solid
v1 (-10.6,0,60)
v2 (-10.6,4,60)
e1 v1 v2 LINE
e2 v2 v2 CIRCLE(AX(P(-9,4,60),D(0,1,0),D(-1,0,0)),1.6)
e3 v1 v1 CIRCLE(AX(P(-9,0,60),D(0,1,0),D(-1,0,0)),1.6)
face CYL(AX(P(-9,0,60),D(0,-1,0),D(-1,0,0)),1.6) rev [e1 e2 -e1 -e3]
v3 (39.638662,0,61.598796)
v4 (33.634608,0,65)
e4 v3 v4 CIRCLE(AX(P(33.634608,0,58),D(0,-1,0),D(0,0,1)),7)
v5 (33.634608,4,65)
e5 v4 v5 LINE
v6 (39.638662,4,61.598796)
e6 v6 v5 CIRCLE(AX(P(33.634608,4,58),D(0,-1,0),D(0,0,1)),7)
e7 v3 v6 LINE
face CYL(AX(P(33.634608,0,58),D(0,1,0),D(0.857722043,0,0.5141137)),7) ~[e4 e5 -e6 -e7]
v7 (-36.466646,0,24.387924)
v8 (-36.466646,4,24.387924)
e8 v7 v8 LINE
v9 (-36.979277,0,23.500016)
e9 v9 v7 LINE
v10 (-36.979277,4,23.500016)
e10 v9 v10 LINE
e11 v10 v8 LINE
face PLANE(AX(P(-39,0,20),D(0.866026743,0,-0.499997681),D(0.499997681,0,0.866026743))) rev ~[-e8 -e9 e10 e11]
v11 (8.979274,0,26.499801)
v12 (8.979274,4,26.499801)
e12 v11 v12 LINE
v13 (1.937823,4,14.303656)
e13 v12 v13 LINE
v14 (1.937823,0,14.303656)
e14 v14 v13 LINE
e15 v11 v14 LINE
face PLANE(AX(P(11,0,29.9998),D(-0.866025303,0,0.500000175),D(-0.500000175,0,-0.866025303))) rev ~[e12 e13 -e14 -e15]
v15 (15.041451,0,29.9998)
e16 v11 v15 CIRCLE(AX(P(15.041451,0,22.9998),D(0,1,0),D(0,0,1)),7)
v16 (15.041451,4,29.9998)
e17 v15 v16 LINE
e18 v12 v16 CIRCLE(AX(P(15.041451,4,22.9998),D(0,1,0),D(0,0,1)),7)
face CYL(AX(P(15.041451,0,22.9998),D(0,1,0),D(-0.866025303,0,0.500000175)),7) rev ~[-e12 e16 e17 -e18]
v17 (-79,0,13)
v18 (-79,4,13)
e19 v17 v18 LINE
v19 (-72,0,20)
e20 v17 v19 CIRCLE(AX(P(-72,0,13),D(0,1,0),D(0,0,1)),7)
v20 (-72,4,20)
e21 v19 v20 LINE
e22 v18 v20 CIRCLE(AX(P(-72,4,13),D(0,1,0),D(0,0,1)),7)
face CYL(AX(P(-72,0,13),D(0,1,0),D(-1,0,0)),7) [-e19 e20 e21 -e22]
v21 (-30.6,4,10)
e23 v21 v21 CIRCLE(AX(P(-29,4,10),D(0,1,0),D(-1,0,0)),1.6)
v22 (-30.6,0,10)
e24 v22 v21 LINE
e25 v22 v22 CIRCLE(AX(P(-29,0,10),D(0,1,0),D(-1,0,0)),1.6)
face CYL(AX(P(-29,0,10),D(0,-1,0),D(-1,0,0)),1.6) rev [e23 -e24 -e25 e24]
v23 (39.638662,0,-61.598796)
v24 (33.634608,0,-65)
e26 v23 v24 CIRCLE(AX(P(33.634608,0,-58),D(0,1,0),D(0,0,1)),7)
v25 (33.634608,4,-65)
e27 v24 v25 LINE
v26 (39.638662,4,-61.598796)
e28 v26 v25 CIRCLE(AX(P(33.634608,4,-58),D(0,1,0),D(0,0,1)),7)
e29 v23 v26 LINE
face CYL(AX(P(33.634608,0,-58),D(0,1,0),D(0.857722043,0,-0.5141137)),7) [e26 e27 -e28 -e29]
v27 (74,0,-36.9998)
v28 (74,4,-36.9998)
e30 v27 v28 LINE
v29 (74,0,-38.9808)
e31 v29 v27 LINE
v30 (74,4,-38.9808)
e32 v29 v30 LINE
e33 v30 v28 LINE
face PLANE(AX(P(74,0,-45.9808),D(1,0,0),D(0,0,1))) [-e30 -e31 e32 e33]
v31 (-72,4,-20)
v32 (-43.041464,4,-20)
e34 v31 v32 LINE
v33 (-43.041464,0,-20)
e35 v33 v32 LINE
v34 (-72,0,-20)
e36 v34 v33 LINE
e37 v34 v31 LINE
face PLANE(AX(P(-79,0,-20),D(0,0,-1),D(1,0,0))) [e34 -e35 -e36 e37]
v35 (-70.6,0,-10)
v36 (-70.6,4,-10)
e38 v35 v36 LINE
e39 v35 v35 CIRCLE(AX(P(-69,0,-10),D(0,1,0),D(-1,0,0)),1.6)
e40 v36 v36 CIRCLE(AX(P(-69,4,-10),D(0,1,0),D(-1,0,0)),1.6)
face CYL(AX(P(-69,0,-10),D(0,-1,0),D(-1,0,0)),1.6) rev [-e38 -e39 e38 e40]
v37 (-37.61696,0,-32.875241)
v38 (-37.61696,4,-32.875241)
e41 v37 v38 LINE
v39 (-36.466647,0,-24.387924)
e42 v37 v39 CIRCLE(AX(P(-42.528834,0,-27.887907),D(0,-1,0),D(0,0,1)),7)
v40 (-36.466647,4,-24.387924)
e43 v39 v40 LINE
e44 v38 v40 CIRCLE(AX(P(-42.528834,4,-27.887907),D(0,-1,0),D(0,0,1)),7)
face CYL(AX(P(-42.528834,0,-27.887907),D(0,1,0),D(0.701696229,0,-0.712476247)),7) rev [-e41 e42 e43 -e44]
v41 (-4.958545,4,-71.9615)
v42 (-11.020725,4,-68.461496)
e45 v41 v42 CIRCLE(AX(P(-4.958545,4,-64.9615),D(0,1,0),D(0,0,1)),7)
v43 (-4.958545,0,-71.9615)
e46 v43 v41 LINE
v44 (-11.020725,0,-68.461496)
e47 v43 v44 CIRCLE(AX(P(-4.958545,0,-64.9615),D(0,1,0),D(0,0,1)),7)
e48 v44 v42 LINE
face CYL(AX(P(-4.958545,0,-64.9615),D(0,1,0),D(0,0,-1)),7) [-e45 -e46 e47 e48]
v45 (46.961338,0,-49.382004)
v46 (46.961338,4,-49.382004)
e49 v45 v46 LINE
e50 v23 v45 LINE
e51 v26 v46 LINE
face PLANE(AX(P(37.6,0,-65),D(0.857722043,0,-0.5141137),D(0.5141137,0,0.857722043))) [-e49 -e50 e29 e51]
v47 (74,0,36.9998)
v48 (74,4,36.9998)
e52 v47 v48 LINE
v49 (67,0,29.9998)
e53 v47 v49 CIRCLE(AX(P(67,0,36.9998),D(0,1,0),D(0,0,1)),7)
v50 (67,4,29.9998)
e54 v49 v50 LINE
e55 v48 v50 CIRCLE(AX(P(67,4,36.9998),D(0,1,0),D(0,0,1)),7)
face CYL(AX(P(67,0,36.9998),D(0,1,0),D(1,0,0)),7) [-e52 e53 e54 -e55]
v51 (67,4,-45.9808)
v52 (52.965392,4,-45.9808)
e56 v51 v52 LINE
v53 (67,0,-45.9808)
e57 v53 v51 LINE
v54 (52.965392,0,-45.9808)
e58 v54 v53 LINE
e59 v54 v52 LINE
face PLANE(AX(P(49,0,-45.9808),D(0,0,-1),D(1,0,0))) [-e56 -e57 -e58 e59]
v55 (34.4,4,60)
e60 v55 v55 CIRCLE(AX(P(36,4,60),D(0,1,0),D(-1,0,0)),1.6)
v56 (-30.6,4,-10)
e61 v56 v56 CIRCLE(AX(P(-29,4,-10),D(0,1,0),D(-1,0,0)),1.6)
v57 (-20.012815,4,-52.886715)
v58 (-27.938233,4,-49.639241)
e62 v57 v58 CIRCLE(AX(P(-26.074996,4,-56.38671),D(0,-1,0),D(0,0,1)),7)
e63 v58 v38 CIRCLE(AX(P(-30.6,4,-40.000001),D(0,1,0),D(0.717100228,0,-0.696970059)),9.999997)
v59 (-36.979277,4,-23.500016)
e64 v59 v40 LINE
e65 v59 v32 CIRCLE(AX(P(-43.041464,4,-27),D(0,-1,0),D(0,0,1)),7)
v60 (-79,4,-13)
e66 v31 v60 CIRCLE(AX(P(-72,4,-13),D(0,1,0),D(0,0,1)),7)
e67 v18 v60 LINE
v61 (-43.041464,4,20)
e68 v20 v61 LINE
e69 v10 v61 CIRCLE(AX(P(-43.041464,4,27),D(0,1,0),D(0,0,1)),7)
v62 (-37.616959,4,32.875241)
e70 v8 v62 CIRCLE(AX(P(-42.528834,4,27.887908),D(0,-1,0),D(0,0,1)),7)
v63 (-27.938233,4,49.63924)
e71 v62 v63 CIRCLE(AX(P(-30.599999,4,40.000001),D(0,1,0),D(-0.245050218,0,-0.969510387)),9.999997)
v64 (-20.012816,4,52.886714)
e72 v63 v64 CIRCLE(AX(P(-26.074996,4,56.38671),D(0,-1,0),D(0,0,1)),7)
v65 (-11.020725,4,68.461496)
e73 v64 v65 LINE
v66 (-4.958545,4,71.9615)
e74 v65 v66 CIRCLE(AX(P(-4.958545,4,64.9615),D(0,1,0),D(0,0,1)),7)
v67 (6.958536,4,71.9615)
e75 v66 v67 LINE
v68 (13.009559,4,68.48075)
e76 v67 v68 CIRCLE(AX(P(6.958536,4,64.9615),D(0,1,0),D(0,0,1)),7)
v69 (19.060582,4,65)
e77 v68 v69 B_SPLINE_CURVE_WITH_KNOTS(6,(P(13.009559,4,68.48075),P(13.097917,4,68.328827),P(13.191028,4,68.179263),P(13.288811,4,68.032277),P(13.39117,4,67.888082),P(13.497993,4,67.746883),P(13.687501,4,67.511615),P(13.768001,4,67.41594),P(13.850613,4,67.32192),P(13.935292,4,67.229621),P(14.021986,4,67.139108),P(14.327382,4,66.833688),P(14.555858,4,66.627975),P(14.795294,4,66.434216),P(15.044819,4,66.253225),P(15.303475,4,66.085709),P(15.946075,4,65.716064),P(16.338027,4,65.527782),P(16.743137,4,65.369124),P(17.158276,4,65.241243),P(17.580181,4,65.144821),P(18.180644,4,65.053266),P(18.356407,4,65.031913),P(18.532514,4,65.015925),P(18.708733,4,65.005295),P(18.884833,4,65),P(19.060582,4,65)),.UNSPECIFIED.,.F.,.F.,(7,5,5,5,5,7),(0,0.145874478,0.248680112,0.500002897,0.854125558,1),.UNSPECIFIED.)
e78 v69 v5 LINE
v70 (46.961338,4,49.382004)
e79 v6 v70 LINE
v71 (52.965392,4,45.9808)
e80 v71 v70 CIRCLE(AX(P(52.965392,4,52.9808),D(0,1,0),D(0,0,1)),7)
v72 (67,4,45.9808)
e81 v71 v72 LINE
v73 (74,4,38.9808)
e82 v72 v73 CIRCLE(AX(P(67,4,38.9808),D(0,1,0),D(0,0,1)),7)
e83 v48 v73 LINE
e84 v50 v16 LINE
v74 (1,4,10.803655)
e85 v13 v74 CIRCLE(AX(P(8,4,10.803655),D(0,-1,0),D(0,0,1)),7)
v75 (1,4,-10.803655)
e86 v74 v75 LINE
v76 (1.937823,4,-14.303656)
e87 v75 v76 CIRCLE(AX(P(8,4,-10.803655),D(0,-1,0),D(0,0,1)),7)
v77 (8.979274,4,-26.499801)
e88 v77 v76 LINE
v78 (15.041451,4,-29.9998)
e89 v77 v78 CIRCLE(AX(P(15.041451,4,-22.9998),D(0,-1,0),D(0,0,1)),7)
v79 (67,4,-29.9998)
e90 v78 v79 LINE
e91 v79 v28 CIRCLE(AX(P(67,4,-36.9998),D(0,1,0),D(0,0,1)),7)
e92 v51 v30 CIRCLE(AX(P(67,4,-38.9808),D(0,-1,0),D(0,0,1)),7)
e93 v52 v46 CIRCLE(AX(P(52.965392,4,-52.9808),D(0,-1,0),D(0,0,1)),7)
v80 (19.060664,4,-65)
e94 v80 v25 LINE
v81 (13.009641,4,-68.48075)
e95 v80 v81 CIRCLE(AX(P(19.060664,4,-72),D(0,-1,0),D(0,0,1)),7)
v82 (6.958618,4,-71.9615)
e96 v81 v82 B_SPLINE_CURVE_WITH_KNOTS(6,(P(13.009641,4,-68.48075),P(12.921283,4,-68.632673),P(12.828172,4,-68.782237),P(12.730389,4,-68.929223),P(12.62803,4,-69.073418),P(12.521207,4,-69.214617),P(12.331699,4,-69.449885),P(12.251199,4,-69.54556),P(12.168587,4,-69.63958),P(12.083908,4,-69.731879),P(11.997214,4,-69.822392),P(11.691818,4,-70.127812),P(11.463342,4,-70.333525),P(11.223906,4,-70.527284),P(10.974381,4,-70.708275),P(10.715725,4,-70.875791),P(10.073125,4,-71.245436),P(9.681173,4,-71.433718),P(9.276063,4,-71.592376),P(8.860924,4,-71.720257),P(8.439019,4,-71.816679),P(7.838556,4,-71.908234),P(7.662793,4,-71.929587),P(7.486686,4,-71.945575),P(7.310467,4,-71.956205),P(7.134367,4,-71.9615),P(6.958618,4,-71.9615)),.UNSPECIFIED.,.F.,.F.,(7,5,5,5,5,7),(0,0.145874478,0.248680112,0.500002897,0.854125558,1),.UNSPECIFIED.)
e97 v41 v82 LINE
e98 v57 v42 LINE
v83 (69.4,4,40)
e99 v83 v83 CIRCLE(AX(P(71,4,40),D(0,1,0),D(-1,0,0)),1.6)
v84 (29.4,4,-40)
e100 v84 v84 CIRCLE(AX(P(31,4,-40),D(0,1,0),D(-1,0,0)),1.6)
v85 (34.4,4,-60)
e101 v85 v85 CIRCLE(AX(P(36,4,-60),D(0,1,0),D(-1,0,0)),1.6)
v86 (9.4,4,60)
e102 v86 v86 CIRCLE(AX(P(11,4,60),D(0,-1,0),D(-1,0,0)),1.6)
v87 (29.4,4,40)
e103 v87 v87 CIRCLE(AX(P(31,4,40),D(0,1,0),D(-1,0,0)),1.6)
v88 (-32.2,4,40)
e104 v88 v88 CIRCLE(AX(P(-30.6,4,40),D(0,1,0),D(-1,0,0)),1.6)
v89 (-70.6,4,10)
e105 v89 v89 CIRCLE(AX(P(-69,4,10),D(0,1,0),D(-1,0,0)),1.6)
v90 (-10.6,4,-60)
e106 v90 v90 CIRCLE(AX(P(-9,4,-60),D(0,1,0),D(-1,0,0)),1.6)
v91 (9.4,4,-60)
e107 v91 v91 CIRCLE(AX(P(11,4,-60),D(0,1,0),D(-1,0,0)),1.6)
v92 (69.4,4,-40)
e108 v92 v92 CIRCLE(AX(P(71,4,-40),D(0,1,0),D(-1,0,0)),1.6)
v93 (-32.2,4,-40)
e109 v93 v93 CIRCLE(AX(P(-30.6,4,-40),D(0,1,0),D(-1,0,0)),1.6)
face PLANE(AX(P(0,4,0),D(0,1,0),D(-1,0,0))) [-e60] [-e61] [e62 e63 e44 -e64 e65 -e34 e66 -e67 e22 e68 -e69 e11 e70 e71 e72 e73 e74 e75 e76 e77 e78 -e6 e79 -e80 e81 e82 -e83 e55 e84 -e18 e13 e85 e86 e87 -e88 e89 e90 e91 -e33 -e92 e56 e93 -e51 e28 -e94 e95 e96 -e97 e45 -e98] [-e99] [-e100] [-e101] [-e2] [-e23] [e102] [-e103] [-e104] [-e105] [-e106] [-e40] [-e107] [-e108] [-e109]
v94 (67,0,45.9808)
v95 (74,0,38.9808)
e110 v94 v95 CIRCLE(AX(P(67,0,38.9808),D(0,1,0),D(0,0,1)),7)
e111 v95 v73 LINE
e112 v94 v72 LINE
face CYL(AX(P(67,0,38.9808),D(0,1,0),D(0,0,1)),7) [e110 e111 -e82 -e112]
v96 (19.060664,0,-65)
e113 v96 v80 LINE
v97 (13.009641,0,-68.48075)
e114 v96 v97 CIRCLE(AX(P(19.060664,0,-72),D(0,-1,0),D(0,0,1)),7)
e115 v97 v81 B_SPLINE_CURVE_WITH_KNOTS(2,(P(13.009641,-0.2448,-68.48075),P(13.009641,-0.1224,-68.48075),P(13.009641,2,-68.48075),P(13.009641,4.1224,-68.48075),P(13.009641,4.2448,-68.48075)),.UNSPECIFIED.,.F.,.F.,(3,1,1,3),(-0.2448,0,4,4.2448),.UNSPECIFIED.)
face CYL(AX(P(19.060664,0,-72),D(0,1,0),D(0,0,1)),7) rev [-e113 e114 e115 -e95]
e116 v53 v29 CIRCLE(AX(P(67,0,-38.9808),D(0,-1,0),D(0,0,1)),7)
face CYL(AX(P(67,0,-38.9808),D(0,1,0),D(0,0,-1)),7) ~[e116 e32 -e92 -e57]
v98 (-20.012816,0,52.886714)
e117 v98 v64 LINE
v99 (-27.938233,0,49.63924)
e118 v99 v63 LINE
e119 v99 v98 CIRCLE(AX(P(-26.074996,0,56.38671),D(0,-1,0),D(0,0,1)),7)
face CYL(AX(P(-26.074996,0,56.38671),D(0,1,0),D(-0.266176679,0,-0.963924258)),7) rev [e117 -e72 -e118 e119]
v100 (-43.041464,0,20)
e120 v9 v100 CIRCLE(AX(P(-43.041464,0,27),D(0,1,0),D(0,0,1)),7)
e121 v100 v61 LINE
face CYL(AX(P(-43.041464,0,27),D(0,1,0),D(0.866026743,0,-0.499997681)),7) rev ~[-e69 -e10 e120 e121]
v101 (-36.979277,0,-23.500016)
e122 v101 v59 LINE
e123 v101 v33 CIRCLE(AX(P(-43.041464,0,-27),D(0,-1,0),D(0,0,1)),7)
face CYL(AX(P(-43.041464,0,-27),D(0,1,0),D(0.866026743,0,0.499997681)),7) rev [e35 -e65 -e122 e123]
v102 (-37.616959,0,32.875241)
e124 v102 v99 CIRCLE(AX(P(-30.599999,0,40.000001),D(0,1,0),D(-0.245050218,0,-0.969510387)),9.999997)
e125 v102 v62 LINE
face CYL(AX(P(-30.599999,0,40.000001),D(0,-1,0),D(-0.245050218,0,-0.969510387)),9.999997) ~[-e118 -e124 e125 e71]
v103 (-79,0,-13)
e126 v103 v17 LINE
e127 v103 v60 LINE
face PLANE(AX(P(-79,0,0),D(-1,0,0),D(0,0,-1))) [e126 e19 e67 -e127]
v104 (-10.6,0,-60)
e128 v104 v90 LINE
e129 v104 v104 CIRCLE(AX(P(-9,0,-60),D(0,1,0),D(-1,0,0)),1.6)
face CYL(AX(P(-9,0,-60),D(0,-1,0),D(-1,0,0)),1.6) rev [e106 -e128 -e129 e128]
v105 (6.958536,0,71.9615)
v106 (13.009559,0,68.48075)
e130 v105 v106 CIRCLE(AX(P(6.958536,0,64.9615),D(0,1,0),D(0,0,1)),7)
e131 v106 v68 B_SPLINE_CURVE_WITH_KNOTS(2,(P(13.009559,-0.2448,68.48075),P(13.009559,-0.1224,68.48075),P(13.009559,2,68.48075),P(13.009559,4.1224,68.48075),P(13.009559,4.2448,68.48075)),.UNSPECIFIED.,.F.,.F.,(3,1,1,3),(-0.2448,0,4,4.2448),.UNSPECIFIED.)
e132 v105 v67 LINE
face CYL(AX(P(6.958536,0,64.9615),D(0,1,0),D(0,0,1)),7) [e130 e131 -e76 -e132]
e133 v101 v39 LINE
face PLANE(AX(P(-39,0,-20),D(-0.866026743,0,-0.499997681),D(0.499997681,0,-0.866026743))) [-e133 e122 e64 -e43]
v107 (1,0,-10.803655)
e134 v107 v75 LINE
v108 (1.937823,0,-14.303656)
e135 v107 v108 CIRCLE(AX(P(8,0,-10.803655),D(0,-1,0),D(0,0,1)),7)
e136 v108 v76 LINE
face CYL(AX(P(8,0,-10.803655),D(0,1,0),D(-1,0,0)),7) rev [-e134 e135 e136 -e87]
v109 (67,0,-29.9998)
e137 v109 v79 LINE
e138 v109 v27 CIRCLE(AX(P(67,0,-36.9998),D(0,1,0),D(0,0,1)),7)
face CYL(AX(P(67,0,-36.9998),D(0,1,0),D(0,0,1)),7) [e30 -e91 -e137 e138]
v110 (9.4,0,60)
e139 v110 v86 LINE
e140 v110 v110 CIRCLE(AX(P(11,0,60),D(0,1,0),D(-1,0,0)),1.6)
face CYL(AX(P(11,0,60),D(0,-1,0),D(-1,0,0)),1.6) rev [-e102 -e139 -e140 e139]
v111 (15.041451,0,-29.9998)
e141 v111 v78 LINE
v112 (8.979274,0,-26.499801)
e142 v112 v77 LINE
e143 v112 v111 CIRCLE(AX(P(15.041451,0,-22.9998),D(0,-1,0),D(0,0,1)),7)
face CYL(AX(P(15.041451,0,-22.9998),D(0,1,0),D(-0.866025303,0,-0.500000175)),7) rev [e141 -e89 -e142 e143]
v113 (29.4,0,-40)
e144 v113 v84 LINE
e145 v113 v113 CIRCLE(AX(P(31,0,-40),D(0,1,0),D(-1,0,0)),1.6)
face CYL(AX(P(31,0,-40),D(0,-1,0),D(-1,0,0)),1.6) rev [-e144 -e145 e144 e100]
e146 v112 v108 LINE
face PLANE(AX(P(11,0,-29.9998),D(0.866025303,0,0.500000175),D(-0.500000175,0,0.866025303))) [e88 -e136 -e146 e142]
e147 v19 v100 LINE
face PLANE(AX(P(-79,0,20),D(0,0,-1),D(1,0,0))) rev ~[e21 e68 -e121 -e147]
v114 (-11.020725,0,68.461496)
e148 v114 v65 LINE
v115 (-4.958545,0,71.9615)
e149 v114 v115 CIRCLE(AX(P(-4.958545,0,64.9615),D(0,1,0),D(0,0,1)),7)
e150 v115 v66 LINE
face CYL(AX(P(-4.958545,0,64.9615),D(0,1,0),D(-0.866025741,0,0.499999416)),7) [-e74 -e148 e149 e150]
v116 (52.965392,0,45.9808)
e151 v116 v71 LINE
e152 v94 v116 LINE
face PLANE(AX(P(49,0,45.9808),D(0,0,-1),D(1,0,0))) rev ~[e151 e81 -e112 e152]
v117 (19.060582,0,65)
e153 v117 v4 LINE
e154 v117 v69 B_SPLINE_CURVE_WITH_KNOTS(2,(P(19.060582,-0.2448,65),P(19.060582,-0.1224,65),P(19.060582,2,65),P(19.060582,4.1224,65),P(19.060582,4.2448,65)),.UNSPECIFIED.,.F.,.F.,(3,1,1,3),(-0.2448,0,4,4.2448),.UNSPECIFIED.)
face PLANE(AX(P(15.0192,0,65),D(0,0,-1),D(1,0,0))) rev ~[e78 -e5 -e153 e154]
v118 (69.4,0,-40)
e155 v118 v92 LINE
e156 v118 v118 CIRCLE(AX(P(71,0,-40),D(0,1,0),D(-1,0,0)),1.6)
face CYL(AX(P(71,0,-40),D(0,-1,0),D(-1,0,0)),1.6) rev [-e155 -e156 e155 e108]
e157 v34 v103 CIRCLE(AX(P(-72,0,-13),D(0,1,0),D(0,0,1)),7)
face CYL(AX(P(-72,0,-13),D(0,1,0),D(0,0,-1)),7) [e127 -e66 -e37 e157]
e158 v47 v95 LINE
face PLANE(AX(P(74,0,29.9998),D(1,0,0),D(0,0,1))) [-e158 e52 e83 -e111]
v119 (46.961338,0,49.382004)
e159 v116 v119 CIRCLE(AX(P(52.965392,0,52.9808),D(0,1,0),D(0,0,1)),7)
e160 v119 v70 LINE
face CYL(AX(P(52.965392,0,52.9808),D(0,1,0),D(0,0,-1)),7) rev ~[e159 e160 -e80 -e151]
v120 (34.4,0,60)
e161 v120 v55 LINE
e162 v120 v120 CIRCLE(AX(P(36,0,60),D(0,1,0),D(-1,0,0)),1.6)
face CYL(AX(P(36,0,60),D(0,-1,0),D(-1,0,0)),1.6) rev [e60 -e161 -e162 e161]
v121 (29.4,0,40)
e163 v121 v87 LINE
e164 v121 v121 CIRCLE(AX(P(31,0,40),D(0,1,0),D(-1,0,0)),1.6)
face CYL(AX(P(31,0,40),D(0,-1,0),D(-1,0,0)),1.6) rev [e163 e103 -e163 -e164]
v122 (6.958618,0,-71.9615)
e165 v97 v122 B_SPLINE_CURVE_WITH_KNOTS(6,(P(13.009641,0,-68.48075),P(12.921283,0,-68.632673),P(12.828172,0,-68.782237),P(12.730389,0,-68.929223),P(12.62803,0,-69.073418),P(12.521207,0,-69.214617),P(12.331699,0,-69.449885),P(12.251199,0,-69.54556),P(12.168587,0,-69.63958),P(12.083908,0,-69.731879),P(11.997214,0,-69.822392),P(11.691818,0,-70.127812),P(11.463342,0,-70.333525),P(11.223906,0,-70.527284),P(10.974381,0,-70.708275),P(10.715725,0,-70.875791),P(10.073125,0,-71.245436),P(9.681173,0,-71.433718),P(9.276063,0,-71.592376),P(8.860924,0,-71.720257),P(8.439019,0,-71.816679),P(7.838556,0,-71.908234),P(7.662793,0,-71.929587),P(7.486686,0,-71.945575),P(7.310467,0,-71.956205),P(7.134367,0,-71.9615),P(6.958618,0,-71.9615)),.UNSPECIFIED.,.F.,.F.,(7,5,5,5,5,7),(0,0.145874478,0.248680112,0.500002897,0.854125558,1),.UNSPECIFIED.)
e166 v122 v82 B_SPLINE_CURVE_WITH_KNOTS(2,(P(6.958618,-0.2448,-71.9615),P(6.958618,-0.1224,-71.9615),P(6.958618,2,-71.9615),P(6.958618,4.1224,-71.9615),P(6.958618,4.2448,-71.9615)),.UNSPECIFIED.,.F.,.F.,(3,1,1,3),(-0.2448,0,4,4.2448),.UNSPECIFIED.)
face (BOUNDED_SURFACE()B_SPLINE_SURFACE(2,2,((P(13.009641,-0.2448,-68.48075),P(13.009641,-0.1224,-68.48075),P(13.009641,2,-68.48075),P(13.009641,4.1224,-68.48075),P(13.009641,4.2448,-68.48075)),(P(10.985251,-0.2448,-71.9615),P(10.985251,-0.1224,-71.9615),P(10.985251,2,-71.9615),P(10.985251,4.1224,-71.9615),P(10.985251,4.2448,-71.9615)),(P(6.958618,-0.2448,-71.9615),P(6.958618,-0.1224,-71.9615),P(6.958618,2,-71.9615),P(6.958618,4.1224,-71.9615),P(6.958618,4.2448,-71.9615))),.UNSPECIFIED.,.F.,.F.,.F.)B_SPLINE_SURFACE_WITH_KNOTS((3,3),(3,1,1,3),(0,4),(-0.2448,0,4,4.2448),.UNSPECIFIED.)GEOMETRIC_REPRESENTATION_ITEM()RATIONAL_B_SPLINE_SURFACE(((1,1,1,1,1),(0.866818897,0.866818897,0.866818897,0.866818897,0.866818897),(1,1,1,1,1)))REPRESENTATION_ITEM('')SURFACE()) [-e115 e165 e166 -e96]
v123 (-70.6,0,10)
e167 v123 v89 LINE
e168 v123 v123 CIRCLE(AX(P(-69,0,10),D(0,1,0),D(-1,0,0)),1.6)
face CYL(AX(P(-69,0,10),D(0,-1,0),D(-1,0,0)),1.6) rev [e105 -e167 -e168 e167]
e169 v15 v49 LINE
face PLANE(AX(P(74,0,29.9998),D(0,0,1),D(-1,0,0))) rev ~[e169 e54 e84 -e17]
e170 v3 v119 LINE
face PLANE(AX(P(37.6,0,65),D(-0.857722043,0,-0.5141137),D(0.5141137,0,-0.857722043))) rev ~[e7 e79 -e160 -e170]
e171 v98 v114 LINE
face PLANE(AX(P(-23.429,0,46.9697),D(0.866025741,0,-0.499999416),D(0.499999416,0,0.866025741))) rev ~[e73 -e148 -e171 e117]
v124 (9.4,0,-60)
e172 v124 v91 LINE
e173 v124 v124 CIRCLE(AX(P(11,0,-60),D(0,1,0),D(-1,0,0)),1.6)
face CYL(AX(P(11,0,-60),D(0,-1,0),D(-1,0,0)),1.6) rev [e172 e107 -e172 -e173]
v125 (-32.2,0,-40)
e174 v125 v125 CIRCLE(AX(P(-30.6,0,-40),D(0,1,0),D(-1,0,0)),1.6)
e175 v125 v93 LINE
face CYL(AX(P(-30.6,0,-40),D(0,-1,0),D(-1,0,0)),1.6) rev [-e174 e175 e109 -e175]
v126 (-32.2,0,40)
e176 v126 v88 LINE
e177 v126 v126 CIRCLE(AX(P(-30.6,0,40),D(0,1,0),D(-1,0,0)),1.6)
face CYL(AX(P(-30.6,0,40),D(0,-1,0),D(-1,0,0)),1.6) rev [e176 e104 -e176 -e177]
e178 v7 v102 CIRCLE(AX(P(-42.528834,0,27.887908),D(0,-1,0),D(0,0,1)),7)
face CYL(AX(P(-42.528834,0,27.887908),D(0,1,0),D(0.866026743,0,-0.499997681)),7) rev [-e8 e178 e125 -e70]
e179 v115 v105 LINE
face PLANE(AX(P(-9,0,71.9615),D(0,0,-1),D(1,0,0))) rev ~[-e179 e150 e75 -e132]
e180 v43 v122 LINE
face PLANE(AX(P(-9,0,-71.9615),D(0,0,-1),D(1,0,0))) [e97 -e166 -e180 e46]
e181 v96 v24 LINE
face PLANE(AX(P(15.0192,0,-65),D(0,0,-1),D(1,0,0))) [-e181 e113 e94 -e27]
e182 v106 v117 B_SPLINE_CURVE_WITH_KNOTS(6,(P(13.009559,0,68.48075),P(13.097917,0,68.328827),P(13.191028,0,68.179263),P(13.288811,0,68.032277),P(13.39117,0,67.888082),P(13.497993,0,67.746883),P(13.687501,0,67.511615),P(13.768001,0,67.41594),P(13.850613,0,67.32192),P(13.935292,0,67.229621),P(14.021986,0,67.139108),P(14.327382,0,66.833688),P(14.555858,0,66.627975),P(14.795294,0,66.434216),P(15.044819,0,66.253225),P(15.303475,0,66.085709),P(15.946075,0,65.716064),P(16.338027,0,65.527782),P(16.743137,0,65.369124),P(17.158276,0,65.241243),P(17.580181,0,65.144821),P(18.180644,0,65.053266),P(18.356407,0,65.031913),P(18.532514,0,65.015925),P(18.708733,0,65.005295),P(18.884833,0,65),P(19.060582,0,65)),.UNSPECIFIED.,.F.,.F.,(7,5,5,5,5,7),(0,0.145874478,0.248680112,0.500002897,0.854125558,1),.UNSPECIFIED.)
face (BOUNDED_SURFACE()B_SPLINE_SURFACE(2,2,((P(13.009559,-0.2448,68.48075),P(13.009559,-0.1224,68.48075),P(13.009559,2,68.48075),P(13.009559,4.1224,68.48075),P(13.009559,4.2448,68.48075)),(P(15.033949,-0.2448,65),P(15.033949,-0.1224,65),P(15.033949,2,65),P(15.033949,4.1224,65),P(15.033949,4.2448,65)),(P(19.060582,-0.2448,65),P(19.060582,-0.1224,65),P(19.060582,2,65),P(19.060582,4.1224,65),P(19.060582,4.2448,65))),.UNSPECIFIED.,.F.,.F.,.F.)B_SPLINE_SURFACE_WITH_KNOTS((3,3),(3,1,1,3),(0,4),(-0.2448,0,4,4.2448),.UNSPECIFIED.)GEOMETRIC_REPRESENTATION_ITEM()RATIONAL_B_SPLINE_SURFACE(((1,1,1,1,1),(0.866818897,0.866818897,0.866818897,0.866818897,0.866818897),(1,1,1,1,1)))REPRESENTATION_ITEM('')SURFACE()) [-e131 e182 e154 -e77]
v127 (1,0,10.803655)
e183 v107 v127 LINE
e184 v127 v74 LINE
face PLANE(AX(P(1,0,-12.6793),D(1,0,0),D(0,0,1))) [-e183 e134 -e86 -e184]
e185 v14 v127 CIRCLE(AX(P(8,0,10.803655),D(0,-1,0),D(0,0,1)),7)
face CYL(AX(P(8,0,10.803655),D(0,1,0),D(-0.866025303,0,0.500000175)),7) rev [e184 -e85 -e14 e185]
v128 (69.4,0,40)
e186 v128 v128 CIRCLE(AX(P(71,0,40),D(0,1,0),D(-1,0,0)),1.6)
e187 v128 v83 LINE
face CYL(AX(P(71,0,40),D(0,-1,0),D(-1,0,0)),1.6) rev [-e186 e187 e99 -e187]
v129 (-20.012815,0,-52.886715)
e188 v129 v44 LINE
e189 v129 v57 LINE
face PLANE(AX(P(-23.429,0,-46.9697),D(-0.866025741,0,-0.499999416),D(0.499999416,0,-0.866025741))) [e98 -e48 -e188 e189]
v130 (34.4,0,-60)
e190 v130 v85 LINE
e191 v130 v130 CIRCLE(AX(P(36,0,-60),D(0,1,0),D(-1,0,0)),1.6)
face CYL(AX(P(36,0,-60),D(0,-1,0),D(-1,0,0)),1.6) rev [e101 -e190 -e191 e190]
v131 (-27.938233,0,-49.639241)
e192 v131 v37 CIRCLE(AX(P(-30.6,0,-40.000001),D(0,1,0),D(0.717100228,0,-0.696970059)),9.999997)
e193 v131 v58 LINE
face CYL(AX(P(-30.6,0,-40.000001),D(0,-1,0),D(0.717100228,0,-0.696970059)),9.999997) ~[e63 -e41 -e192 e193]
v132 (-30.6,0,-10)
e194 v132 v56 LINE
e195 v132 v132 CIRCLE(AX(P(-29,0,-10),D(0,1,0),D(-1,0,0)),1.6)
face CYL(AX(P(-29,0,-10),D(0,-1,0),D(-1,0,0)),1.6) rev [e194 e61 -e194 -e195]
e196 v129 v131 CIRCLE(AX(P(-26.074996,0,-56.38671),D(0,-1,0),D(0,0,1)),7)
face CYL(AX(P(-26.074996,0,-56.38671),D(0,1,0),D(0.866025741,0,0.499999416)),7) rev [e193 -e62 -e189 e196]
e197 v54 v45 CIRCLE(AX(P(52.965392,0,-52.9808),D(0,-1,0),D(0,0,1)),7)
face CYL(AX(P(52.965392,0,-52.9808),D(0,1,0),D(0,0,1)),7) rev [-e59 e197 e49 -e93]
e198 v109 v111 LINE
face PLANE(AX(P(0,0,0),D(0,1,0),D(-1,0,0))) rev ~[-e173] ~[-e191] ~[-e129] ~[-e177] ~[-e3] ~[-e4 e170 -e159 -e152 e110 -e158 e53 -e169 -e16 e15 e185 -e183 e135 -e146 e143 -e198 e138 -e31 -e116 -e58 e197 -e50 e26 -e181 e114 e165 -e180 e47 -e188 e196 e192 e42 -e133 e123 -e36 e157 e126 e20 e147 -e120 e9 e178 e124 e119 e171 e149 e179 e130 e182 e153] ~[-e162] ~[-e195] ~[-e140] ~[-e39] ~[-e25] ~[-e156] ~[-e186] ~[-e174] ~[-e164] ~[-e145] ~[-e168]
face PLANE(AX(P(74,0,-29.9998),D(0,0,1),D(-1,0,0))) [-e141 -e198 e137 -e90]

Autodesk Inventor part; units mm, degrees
ref_plane "YZ Plane" through (0, 0, 0) normal (1, 0, 0) x (0, 1, 0)
ref_plane "XZ Plane" through (0, 0, 0) normal (0, 1, 0) x (-1, 0, 0)
ref_plane "XY Plane" through (0, 0, 0) normal (0, 0, 1) x (1, 0, 0)
sketch "Sketch1" plane through (0, 0, 0) normal (0, 1, 0) x (-1, 0, 0)
  line L0 (121, 0) -> (-97, 0) construction
  circle A0 centre (29, -10) radius 1.6
  circle A1 centre (69, -10) radius 1.6
  circle A2 centre (9, -60) radius 1.6
  circle A3 centre (-11, -60) radius 1.6
  line L1 (79, 0) -> (79, -20)
  line L2 (79, -20) -> (39, -20)
  line L3 (9, -71.9615) -> (-11, -71.9615)
  circle A4 centre (-31, -40) radius 1.6
  line L4 (-11, -71.9615) -> (-15.0192, -65)
  line L5 (-11, -71.9615) -> (19, -71.9615) construction
  circle A5 centre (-71, -40) radius 1.6
  line L6 (-49, -45.9808) -> (-81, -45.9808)
  line L7 (-81, -45.9808) -> (-81, -29.9998)
  line L8 (-81, -29.9998) -> (-11, -29.9998)
  line L9 (-11, -29.9998) -> (-1, -12.6793)
  line L10 (-1, -12.6793) -> (-1, 0)
  circle A6 centre (29, 10) radius 1.6
  circle A7 centre (69, 10) radius 1.6
  circle A8 centre (9, 60) radius 1.6
  circle A9 centre (-11, 60) radius 1.6
  line L11 (79, 0) -> (79, 20)
  line L12 (79, 20) -> (39, 20)
  line L13 (9, 71.9615) -> (-11, 71.9615)
  circle A10 centre (-31, 40) radius 1.6
  line L14 (-11, 71.9615) -> (-15.0192, 65)
  line L15 (-11, 71.9615) -> (19, 71.9615) construction
  circle A11 centre (-71, 40) radius 1.6
  line L16 (-49, 45.9808) -> (-81, 45.9808)
  line L17 (-81, 45.9808) -> (-81, 29.9998)
  line L18 (-81, 29.9998) -> (-11, 29.9998)
  line L19 (-11, 29.9998) -> (-1, 12.6793)
  line L20 (-1, 12.6793) -> (-1, 0)
  line L21 (-81, -45.9808) -> (-74, -45.9808)
  line L22 (-74, -45.9808) -> (-74, -29.9998)
  line L23 (-74, 29.9998) -> (-74, 45.9808)
  circle A12 centre (30.6, 40) radius 1.6
  arc A13 (33.0505, 30.3049) -> (23.429, 46.9697) centre (30.6, 40) ccw
  circle A14 centre (30.6, -40) radius 1.6
  arc A15 (23.429, -46.9697) -> (33.0505, -30.3049) centre (30.6, -40) ccw
  line L24 (39, 20) -> (33.0505, 30.3049)
  line L25 (23.429, 46.9697) -> (9, 71.9615)
  line L26 (39, -20) -> (33.0505, -30.3049)
  line L27 (23.429, -46.9697) -> (9, -71.9615)
  circle A16 centre (-36, 60) radius 1.6
  line L28 (-11, 60) -> (-11, 61.6)
  line L29 (-15.0192, 65) -> (-37.6, 65)
  line L30 (-37.6, 65) -> (-49, 45.9808)
  circle A17 centre (-36, -60) radius 1.6
  line L31 (-15.0192, -65) -> (-37.6, -65)
  line L32 (-37.6, -65) -> (-49, -45.9808)
  point P0 (0, 0)
  point P1 (-26, -45.9808)
  point P2 (-26, 45.9808)
  dimension "d0" = 3.2
  dimension "d3" = 3.2
  dimension "d5" = 3.2
  dimension "d6" = 50
  dimension "d15" = 20
  dimension "d16" = 40
  dimension "d18" = 20
  dimension "d25" = 3.2
  dimension "d27" = 40
  dimension "d28" = 120
  dimension "d29" = 3.2
  dimension "d30" = 40
  dimension "d31" = 55
  dimension "d32" = 15.981
  dimension "d33" = 120
  dimension "d36" = 3.2
  dimension "d37" = 30
  dimension "d38" = 20
  dimension "d39" = 3.2
  dimension "d40" = 25
extrude "Extrusion1" add sketch "Sketch1" along normal blind 4
sketch "Sketch2" plane through (0, 4, 0) normal (0, 1, 0) x (1, 0, 0)
  point P0 (0, 0)
extrude "Extrusion2" cut sketch "Sketch1" along normal blind 4 contours L6 L7 L8 L22 | L23 L18 L17 L16
fillet "Fillet1" radius 7 26 edges at (49, 2, 45.9808) (37.6, 2, 65) (74, 2, 45.9808) (74, 2, 29.9998) (1, 2, 12.6793) (1, 2, -12.6793) (11, 2, -29.9998) (11, 2, 29.9998) (74, 2, -29.9998) (49, 2, -45.9808) (74, 2, -45.9808) (37.6, 2, -65) (15.0192, 2, -65) (11, 2, -71.9615) (-9, 2, -71.9615) (-23.429, 2, -46.9697) (-33.0505, 2, -30.3049) (-39, 2, -20) (-79, 2, -20) (-79, 2, 20) (-33.0505, 2, 30.3049) (-39, 2, 20) (-23.429, 2, 46.9697) (-9, 2, 71.9615) (11, 2, 71.9615) (15.0192, 2, 65)
properties part number "Fix Konektor Casis_3DPrint"
